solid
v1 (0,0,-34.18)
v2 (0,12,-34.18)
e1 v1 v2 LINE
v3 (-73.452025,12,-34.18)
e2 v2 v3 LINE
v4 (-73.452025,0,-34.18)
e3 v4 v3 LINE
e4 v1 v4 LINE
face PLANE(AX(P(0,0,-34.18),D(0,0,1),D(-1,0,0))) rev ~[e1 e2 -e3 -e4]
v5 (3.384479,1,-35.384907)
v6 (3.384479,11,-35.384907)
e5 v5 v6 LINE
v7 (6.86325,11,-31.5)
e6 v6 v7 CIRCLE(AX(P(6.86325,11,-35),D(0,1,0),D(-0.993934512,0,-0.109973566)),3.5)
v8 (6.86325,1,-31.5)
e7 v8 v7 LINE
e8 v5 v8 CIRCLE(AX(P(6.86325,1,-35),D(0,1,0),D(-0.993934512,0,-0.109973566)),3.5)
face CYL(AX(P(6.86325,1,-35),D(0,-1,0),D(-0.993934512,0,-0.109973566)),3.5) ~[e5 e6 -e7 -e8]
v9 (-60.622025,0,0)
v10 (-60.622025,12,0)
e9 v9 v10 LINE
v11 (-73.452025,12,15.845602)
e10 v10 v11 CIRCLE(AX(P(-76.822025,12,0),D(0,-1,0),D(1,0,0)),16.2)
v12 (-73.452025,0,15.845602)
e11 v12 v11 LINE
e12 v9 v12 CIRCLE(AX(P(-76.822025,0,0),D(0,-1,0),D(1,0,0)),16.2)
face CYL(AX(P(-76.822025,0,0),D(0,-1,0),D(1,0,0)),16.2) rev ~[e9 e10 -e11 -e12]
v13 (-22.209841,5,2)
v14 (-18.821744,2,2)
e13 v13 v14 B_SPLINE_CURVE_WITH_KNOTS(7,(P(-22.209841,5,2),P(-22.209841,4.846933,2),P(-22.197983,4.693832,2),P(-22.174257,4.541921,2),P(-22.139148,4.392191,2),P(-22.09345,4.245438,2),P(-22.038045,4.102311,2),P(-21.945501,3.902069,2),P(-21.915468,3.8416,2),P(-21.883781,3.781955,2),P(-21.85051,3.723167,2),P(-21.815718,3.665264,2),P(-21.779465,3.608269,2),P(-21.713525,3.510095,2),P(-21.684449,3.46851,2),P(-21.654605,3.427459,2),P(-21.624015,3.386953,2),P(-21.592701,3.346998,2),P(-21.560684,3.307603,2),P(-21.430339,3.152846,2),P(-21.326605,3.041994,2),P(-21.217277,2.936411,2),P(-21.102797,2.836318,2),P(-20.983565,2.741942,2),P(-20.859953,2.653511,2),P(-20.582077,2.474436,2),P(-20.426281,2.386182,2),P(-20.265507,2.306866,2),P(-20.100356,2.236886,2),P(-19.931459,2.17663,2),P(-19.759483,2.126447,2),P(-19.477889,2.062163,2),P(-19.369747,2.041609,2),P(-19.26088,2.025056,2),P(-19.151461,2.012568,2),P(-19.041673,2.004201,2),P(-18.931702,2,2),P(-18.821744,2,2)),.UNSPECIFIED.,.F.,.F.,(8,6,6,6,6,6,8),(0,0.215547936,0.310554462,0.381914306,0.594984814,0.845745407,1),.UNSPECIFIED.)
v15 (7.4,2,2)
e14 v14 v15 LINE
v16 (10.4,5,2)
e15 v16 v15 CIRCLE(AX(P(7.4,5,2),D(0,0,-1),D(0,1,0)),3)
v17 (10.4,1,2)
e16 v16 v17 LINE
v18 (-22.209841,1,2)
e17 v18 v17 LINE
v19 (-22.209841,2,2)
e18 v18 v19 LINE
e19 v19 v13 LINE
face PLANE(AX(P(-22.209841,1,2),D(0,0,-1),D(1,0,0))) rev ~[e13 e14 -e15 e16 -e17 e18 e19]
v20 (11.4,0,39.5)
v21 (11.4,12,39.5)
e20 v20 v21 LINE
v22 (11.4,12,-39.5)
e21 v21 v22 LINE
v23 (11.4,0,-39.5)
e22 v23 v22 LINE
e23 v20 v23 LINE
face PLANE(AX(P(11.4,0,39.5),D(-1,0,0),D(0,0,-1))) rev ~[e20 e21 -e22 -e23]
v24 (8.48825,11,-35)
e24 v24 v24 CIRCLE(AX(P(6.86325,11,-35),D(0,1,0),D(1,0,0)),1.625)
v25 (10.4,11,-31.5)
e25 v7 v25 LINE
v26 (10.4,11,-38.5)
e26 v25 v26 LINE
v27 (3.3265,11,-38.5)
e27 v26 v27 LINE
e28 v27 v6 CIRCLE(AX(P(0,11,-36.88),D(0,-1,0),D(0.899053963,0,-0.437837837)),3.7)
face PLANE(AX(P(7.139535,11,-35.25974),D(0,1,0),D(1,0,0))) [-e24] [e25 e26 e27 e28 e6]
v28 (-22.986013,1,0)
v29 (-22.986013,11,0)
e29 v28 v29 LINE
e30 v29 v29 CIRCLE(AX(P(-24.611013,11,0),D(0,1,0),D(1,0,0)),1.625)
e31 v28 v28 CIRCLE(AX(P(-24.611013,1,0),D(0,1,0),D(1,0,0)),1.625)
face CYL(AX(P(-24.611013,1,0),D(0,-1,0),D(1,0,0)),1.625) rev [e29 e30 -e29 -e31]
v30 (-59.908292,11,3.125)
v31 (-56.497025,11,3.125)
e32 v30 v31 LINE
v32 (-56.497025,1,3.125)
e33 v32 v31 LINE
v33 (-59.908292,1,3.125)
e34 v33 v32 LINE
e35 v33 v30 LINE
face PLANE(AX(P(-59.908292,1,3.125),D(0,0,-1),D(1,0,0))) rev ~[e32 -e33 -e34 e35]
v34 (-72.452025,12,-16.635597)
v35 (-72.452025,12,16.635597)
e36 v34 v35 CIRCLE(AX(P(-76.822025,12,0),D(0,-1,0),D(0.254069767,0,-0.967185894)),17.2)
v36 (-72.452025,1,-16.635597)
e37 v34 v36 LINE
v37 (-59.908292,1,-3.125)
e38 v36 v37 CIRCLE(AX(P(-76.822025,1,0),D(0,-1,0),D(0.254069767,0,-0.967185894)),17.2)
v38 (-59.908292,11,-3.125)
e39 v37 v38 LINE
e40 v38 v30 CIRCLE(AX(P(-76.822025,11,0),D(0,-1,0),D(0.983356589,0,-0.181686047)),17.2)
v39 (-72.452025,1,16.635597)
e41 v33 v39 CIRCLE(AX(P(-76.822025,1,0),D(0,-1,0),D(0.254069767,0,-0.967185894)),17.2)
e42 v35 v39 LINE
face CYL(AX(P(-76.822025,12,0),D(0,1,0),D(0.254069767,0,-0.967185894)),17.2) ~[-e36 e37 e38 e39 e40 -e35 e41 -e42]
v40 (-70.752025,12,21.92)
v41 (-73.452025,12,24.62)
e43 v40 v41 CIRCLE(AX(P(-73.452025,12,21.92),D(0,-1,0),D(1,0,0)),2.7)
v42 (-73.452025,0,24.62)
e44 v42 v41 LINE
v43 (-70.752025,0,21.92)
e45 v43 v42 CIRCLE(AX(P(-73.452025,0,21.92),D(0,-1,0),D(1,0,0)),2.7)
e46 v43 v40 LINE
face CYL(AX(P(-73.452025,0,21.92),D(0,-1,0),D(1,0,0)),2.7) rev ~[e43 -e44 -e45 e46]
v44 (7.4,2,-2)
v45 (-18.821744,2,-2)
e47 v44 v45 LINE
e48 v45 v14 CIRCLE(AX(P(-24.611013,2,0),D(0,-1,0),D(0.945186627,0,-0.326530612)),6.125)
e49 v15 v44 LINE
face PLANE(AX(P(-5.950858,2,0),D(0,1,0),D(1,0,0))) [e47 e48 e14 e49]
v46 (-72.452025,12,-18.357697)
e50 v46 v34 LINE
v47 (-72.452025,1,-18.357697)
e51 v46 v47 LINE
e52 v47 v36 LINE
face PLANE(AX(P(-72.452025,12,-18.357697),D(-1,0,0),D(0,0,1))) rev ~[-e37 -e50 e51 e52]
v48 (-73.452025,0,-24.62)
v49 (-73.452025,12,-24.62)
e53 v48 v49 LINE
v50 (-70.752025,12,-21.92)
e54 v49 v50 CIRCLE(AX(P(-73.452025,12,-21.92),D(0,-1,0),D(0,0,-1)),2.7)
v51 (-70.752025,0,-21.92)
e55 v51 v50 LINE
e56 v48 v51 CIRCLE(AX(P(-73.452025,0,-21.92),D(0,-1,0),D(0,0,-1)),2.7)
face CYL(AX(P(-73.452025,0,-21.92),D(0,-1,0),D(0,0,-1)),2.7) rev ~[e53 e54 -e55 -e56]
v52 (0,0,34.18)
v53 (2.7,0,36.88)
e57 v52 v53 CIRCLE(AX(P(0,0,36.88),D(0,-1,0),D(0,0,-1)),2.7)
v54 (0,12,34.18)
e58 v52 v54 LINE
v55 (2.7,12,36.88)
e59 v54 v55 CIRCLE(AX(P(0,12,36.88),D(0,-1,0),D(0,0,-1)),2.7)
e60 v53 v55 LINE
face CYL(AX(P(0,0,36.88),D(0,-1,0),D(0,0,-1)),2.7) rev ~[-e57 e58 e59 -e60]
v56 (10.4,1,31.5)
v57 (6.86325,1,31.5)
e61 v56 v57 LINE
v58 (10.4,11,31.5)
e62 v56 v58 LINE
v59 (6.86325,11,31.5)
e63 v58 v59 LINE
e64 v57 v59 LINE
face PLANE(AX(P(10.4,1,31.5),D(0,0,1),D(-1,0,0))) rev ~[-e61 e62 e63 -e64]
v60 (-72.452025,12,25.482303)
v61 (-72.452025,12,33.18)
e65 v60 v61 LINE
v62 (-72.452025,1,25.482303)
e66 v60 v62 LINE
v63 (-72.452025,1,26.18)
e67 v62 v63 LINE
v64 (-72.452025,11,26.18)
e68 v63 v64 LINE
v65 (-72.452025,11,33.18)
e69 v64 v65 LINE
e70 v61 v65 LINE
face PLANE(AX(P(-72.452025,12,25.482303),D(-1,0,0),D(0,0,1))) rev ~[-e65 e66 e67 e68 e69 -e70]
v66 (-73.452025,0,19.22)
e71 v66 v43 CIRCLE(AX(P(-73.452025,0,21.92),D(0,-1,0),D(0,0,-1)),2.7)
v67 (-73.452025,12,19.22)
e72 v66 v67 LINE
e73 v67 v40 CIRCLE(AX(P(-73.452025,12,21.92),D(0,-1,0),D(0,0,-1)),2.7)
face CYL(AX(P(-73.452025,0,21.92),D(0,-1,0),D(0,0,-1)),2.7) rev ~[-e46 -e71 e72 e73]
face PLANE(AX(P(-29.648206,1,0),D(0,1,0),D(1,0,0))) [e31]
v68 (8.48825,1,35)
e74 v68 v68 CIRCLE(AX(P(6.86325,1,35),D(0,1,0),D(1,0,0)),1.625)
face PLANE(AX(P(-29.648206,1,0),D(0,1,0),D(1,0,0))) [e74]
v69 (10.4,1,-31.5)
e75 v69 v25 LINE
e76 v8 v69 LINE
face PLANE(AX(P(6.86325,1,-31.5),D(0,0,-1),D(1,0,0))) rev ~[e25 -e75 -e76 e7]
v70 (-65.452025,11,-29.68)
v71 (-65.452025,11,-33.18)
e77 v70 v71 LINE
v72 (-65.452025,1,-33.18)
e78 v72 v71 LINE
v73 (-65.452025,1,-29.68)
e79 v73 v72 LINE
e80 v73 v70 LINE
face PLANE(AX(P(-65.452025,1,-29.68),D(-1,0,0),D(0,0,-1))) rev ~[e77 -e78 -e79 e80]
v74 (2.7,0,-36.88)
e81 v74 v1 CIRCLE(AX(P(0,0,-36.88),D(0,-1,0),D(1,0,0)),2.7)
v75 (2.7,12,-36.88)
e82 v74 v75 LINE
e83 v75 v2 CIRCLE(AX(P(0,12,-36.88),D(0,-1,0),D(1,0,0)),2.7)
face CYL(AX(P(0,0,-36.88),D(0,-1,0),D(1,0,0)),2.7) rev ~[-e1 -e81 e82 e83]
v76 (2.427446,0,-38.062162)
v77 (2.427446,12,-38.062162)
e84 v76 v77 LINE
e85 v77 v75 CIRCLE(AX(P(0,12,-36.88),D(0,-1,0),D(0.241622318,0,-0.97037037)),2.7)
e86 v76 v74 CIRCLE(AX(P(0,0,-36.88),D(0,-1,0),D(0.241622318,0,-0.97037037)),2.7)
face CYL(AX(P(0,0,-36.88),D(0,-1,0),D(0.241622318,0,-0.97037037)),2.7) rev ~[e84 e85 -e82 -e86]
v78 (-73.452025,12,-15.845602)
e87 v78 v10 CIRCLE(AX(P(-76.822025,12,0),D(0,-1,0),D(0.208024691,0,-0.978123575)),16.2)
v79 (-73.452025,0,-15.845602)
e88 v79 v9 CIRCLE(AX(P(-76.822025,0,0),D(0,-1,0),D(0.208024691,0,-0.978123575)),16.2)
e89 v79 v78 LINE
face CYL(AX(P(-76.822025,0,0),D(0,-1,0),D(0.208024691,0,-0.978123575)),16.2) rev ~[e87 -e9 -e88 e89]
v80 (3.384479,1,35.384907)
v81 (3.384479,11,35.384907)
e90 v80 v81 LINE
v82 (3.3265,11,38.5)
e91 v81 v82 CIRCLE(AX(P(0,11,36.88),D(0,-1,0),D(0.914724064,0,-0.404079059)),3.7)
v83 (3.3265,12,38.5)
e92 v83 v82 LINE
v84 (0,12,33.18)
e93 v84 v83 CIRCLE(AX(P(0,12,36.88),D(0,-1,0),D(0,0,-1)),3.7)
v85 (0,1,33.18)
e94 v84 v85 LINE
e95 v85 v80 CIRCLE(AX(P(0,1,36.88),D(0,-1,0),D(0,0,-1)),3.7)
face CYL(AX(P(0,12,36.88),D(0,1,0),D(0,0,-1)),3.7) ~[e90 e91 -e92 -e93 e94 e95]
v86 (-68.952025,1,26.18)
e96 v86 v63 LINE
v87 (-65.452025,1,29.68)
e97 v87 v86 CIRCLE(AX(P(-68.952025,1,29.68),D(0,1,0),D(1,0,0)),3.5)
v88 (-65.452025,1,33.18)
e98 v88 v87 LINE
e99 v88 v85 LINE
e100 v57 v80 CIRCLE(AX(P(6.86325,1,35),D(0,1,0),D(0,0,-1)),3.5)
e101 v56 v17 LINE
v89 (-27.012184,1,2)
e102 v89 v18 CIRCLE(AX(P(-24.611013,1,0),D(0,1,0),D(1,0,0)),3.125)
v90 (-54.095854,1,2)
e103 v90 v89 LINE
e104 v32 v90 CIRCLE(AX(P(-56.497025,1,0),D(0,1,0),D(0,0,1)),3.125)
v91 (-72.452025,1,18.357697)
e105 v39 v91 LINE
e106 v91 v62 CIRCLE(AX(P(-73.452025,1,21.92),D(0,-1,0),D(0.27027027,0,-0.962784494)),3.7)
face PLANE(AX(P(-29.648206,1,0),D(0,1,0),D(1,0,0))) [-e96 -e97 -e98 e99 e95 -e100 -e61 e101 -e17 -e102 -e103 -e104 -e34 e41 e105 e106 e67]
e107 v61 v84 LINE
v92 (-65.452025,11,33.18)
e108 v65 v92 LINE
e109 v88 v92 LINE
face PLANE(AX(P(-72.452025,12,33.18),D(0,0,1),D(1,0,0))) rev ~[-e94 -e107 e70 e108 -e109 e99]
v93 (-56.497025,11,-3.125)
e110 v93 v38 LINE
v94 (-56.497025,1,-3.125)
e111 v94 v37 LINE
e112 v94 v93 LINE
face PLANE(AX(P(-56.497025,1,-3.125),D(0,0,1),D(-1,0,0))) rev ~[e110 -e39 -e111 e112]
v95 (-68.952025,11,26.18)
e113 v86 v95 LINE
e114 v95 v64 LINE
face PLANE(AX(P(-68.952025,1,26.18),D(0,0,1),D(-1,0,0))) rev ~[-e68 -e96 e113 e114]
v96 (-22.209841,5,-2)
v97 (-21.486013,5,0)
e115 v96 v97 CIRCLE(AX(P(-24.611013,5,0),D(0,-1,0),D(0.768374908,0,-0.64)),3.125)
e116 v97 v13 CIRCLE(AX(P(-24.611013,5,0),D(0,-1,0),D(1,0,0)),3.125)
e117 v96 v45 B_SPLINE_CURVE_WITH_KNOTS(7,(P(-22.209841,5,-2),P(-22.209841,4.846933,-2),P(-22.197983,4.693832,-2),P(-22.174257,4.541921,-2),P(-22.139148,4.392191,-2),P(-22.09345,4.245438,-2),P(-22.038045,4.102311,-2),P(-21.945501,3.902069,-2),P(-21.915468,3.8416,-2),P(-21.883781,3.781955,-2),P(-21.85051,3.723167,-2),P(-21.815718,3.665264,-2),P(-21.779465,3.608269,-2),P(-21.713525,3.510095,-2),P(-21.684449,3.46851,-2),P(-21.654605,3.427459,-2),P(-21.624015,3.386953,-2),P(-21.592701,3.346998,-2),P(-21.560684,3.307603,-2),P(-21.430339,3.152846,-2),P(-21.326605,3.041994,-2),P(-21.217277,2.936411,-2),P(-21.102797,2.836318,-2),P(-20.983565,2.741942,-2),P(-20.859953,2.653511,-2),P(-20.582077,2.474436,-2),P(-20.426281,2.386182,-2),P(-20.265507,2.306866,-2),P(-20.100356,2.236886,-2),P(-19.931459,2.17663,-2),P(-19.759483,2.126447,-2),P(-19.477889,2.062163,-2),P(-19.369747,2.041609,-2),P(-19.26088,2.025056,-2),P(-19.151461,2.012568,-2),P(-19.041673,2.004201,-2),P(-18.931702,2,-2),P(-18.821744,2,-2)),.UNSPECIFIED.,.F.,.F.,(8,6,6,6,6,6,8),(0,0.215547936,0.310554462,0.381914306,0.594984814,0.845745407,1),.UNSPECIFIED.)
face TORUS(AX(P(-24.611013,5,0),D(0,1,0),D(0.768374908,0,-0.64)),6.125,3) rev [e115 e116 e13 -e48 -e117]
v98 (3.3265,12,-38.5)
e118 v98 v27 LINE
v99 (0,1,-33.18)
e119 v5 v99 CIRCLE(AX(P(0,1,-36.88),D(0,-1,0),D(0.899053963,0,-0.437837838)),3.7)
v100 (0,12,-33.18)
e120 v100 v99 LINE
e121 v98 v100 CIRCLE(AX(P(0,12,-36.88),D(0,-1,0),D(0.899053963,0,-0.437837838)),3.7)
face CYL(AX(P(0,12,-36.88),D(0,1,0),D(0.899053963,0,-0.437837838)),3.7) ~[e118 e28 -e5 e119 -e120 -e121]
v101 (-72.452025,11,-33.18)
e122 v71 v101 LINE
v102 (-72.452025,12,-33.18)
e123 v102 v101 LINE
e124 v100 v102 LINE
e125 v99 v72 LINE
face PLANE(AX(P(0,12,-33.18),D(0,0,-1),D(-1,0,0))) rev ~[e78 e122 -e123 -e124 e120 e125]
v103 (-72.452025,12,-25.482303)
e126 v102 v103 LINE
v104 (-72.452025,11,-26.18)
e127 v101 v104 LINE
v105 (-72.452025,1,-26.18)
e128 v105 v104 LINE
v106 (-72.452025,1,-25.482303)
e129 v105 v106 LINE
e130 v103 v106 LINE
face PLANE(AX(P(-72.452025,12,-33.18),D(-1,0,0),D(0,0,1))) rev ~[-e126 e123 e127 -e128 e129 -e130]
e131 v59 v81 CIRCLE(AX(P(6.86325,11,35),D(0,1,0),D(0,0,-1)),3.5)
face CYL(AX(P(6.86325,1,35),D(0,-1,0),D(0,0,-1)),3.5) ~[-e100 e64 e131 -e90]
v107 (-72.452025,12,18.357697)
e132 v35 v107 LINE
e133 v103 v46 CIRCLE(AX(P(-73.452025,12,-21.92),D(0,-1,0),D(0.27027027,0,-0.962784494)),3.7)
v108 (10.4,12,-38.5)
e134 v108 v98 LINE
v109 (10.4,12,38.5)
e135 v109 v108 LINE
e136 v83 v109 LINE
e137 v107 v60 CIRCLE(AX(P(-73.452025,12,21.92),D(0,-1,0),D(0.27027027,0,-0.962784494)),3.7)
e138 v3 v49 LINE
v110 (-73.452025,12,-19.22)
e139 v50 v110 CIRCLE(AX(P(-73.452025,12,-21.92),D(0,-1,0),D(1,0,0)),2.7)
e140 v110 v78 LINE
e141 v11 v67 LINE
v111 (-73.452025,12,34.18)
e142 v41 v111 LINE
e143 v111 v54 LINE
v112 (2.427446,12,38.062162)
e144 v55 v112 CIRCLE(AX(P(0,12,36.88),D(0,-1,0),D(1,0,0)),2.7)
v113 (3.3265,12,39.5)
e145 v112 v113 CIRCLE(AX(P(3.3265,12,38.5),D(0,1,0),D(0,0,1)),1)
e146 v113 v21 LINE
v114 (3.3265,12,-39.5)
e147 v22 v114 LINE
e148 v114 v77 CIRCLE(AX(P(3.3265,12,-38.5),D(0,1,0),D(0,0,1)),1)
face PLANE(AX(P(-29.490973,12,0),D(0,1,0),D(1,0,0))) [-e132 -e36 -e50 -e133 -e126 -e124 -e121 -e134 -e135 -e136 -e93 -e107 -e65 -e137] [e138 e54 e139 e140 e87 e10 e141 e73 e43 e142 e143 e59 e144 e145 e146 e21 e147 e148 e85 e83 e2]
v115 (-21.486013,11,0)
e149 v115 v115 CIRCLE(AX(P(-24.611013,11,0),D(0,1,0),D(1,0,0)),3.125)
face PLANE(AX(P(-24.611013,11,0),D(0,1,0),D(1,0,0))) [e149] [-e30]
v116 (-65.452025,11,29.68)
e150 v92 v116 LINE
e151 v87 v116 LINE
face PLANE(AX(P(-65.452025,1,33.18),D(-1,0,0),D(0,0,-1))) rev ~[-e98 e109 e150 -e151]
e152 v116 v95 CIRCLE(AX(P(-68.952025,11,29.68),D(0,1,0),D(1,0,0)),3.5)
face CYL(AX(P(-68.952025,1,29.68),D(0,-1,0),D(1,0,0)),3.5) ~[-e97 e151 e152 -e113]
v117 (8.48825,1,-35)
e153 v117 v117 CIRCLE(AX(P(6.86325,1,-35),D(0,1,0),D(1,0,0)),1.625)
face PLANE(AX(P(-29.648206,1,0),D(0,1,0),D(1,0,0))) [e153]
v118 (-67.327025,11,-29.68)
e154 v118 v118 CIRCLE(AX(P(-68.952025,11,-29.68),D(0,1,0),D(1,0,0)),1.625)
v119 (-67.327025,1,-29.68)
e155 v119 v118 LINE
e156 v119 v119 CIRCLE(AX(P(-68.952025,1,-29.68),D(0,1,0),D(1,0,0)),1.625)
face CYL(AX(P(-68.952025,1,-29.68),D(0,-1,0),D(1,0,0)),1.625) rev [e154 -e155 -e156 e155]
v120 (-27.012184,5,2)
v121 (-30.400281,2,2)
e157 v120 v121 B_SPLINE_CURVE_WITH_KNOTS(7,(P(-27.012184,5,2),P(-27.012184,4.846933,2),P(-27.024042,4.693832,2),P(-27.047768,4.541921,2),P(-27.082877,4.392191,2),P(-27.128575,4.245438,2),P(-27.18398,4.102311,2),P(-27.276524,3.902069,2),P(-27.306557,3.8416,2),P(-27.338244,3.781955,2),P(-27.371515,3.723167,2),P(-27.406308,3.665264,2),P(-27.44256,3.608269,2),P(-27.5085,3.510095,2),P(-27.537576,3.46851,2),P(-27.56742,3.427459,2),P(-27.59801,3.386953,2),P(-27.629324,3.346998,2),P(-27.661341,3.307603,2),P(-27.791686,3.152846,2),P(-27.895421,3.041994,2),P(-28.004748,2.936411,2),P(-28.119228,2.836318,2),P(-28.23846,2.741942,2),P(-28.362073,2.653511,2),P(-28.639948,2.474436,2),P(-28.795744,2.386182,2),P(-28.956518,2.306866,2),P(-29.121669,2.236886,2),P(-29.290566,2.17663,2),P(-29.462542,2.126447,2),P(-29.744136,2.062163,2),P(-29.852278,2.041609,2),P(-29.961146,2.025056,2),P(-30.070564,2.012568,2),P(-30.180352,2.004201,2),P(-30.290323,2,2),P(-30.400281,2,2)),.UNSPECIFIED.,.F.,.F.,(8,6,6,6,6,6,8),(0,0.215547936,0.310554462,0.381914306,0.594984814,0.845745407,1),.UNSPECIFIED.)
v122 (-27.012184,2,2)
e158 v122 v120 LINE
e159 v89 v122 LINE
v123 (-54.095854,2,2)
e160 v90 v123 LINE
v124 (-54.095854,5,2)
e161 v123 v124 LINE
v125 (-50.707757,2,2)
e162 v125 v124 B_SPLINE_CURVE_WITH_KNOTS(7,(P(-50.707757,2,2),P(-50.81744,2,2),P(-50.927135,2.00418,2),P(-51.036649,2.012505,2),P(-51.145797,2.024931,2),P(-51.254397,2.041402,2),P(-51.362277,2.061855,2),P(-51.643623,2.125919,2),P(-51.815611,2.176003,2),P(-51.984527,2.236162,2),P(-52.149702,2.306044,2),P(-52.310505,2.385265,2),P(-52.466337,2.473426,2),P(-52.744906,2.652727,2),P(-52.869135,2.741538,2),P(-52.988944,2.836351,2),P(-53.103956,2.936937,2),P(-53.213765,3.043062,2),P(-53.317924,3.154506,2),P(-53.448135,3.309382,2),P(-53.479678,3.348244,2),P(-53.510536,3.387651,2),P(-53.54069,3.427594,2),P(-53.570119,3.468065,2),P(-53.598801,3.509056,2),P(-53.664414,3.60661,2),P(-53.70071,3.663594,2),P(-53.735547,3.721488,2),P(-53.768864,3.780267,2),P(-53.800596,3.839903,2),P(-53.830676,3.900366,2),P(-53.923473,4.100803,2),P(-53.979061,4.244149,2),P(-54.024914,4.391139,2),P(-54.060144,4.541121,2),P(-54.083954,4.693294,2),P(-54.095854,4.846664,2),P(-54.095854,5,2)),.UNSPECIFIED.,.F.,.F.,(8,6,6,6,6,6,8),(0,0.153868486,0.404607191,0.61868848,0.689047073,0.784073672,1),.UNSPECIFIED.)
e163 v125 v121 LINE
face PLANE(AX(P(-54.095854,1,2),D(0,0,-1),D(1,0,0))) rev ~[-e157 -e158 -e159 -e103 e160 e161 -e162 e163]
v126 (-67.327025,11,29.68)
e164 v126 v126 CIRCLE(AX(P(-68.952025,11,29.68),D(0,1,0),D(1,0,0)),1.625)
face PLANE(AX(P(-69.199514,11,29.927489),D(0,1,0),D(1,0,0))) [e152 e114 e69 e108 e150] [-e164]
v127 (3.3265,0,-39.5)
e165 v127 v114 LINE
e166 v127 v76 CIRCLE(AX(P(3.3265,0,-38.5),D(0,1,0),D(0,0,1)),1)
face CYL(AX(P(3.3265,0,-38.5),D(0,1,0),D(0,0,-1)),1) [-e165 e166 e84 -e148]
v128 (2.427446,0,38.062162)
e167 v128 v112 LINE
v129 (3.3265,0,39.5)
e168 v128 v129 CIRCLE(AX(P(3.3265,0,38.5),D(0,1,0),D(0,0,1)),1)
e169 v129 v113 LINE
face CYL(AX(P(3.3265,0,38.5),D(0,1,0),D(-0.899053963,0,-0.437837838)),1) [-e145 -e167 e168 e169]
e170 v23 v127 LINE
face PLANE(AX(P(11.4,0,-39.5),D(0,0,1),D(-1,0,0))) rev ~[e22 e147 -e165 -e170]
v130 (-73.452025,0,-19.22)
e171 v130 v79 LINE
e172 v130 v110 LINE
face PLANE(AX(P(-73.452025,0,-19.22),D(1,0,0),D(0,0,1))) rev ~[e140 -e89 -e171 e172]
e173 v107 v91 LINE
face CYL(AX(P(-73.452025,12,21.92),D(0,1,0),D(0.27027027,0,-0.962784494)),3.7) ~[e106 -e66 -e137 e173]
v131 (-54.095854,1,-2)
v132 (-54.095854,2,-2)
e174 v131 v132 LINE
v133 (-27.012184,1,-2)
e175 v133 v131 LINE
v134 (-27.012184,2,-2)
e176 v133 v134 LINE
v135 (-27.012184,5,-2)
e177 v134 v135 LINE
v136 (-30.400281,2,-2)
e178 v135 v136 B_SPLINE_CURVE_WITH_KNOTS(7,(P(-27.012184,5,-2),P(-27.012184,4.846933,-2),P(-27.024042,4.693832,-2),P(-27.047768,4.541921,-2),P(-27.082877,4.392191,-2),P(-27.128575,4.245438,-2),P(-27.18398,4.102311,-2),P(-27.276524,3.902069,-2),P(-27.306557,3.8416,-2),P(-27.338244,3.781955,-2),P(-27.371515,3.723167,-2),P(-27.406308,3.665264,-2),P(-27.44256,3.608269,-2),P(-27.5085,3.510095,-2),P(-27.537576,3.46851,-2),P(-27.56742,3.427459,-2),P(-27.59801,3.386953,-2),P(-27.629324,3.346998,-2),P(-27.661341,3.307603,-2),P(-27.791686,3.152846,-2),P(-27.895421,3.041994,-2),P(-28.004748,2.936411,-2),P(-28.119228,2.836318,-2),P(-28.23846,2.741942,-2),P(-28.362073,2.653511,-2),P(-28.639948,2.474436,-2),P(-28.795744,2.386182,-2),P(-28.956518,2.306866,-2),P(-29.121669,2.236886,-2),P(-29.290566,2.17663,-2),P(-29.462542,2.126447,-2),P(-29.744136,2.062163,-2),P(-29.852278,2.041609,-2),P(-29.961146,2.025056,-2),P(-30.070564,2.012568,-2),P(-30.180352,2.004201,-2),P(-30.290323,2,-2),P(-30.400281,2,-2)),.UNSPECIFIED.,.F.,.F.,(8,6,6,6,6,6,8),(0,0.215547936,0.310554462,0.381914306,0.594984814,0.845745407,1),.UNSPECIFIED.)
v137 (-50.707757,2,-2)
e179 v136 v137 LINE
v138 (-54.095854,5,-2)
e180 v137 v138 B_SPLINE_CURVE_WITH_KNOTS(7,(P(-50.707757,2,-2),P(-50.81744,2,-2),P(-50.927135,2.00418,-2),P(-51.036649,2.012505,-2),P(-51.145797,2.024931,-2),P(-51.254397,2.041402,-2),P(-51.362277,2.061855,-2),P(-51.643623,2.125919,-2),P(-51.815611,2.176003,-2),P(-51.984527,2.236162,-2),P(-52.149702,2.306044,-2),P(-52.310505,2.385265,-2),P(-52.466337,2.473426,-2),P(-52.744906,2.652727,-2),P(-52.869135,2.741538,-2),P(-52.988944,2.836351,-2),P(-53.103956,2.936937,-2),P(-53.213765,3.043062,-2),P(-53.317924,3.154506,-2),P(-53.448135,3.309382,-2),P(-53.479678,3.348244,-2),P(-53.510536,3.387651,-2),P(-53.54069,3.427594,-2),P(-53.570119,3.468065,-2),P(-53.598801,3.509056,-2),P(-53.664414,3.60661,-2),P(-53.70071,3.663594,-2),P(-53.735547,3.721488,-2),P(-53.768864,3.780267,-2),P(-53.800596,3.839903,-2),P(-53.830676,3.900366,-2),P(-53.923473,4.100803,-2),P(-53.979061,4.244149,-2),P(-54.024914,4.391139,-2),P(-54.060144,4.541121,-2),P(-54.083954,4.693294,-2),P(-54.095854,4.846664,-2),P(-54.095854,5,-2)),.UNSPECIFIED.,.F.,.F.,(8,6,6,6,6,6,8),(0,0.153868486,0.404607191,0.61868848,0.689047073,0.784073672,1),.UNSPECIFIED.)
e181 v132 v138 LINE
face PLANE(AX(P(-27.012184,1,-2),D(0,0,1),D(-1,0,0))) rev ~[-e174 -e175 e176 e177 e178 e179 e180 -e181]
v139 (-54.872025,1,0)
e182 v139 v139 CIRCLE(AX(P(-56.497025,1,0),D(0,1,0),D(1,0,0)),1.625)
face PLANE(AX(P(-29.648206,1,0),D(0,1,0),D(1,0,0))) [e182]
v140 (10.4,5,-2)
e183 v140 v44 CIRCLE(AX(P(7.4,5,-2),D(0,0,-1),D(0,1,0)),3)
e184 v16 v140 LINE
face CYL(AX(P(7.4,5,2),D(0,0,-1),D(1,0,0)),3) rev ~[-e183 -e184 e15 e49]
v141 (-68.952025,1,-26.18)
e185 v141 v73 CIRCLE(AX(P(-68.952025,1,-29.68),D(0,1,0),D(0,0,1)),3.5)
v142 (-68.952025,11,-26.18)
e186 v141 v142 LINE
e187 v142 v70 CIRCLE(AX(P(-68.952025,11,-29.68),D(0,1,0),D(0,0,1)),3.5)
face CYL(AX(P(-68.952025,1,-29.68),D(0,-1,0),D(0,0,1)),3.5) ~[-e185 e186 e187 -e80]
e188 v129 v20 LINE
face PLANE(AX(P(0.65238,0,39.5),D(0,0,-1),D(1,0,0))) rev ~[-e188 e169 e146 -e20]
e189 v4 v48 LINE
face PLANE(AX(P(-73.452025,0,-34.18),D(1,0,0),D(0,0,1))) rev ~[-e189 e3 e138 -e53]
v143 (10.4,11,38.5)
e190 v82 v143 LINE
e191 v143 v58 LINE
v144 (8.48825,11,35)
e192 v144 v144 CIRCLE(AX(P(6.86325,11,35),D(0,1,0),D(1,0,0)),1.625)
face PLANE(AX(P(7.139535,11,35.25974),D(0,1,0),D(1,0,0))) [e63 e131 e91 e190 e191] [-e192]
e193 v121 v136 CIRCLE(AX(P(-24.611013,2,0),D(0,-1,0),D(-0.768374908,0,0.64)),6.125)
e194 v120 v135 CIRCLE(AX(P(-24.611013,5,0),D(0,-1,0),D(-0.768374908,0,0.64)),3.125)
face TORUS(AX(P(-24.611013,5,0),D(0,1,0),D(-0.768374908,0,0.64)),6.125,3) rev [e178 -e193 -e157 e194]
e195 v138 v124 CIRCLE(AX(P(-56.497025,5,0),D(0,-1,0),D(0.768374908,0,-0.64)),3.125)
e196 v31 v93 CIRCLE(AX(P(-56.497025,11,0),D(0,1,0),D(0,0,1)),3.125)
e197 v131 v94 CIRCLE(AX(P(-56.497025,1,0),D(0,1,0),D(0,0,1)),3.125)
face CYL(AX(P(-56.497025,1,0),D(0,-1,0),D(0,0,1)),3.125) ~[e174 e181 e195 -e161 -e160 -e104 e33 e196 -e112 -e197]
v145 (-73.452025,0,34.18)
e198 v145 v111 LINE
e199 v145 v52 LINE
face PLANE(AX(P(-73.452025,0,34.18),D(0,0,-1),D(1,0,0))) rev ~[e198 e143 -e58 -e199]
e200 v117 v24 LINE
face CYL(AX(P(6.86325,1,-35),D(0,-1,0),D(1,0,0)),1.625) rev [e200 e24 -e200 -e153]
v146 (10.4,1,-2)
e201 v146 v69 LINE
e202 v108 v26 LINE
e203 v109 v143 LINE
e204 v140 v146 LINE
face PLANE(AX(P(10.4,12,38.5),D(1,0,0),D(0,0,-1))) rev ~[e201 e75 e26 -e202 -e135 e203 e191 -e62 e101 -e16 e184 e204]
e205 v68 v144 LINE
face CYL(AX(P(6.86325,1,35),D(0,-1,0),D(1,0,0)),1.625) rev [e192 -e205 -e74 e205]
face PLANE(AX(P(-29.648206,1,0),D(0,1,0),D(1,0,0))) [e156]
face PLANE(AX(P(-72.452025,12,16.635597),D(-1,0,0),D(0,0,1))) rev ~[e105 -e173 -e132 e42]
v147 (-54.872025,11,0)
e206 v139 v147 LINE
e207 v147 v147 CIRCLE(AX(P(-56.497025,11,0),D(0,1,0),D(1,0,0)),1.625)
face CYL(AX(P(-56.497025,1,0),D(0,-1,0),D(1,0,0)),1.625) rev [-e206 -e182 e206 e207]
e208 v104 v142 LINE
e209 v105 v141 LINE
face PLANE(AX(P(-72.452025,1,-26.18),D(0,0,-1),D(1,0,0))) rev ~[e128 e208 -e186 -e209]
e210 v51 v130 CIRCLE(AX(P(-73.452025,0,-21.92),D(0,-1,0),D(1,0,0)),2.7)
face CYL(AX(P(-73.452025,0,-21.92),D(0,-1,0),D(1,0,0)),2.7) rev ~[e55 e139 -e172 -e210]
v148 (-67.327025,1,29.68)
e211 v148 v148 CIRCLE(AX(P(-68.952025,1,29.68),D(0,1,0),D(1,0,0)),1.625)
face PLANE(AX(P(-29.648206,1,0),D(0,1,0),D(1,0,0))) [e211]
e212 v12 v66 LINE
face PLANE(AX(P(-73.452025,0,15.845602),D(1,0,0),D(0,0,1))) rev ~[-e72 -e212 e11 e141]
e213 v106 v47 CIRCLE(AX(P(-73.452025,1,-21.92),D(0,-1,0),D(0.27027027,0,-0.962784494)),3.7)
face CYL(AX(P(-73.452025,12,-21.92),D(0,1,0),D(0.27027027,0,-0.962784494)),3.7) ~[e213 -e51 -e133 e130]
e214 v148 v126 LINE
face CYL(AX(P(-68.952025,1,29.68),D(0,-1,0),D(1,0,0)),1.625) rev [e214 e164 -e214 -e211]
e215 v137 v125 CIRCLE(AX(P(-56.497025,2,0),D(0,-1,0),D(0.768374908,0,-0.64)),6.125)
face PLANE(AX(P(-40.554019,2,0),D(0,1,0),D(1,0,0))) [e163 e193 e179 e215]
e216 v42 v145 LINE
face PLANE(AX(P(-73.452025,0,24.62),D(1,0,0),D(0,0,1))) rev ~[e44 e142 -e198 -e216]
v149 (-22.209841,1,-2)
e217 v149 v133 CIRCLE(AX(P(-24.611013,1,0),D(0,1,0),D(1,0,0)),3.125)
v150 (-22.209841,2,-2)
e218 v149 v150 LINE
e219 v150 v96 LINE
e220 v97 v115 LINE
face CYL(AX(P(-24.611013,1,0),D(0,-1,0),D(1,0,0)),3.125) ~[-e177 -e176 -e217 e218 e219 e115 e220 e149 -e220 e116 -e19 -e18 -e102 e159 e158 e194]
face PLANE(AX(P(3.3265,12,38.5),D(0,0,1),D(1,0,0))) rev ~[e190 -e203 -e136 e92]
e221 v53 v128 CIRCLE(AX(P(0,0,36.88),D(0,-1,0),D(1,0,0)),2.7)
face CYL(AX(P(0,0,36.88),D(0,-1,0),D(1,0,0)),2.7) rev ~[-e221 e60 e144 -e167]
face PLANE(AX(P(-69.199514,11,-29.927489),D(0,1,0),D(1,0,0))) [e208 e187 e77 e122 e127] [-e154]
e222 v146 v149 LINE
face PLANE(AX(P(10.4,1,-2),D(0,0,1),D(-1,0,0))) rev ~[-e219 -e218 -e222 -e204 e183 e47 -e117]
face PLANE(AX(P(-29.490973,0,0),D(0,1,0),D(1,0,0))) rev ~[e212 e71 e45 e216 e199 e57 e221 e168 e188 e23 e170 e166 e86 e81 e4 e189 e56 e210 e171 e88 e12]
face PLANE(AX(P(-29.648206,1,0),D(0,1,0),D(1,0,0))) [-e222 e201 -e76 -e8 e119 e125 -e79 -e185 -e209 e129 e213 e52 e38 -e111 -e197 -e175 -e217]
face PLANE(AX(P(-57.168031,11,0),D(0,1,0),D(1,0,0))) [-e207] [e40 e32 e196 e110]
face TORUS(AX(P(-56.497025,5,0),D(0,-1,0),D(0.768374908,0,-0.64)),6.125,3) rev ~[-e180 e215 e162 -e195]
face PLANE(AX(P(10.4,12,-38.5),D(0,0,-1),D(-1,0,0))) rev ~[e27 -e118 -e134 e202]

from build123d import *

# Parameters (mm, degrees)
BASE_SHAPE_DEPTH           = 12
FILLETS_R                  = 1
INSIDE_CUT_DEPTH           = 11
SKETCH3_R                  = 1.625
SKETCH3_R_2                = 3.125
MOUNTING_POSTS_DEPTH       = 10
CENTER_REINFORCEMENT_DEPTH = 1
REINFORCEMENT_FILLETS_R    = 3


with BuildPart() as part:
    # Sketch1 → Base shape (new body)
    with BuildSketch(Plane(origin=(0, 0, 0), x_dir=(1, 0, 0), z_dir=(0, 1, 0))):
        with BuildLine():
            ThreePointArc((2.7, 36.88), (1.909188309, 34.970811691), (0, 34.18))
            Line((0, 34.18), (-73.452025159, 34.18))
            Line((-73.452025159, 34.18), (-73.452025159, 24.62))
            ThreePointArc((-73.452025159, 24.62), (-71.54283685, 23.829188309), (-70.752025159, 21.92))
            ThreePointArc((-70.752025159, 21.92), (-71.54283685, 20.010811691), (-73.452025159, 19.22))
            Line((-73.452025159, 19.22), (-73.452025159, 15.845601913))
            ThreePointArc((-73.452025159, 15.845601913), (-64.231671709, 10.194263093), (-60.622025159, 0))
            ThreePointArc((-60.622025159, 0), (-64.231671709, -10.194263093), (-73.452025159, -15.845601913))
            Line((-73.452025159, -15.845601913), (-73.452025159, -19.22))
            ThreePointArc((-73.452025159, -19.22), (-71.54283685, -20.010811691), (-70.752025159, -21.92))
            ThreePointArc((-70.752025159, -21.92), (-71.54283685, -23.829188309), (-73.452025159, -24.62))
            Line((-73.452025159, -24.62), (-73.452025159, -34.18))
            Line((-73.452025159, -34.18), (0, -34.18))
            ThreePointArc((0, -34.18), (1.909188309, -34.970811691), (2.7, -36.88))
            ThreePointArc((2.7, -36.88), (2.127372404, -38.542614403), (0.652380257, -39.5))
            Line((0.652380257, -39.5), (11.4, -39.5))
            Line((11.4, -39.5), (11.4, 39.5))
            Line((11.4, 39.5), (0.652380257, 39.5))
            ThreePointArc((0.652380257, 39.5), (2.127372404, 38.542614403), (2.7, 36.88))
        make_face()
    extrude(amount=BASE_SHAPE_DEPTH)

    # Fillets
    fillets_edges = [part.edges().sort_by_distance(p)[0] for p in [
        (0.652380257, 6, -39.5),
        (0.652380257, 6, 39.5),
    ]]
    fillet(fillets_edges, radius=FILLETS_R)

    # Sketch2 → Inside cut (cut)
    with BuildSketch(Plane(origin=(0, 12, 0), x_dir=(1, 0, 0), z_dir=(0, 1, 0))):
        with BuildLine():
            Line((10.4, 38.5), (3.326499662, 38.5))
            ThreePointArc((3.326499662, 38.5), (3.1371962, 34.918368026), (0, 33.18))
            Line((0, 33.18), (-72.452025159, 33.18))
            Line((-72.452025159, 33.18), (-72.452025159, 25.482302626))
            ThreePointArc((-72.452025159, 25.482302626), (-69.752025159, 21.92), (-72.452025159, 18.357697374))
            Line((-72.452025159, 18.357697374), (-72.452025159, 16.635597374))
            ThreePointArc((-72.452025159, 16.635597374), (-59.622025159, 0), (-72.452025159, -16.635597374))
            Line((-72.452025159, -16.635597374), (-72.452025159, -18.357697374))
            ThreePointArc((-72.452025159, -18.357697374), (-69.752025159, -21.92), (-72.452025159, -25.482302626))
            Line((-72.452025159, -25.482302626), (-72.452025159, -33.18))
            Line((-72.452025159, -33.18), (0, -33.18))
            ThreePointArc((0, -33.18), (3.1371962, -34.918368026), (3.326499662, -38.5))
            Line((3.326499662, -38.5), (10.4, -38.5))
            Line((10.4, -38.5), (10.4, 38.5))
        make_face()
    extrude(amount=-INSIDE_CUT_DEPTH, mode=Mode.SUBTRACT)

    # Sketch3 → Mounting posts (add)
    with BuildSketch(Plane(origin=(0, 1, 0), x_dir=(1, 0, 0), z_dir=(0, 1, 0))):
        with BuildLine():
            Line((-72.452025159, 26.18), (-68.952025159, 26.18))
            ThreePointArc((-68.952025159, 26.18), (-66.477151425, 27.205126266), (-65.452025159, 29.68))
            Line((-65.452025159, 29.68), (-65.452025159, 33.18))
            Line((-65.452025159, 33.18), (-72.452025159, 33.18))
            Line((-72.452025159, 33.18), (-72.452025159, 26.18))
        make_face()
        with Locations((-68.952025159, 29.68)):
            Circle(SKETCH3_R, mode=Mode.SUBTRACT)
        with BuildLine():
            ThreePointArc((3.384479038, 35.38490748), (4.255839604, 32.665174116), (6.863249831, 31.5))
            Line((6.863249831, 31.5), (10.4, 31.5))
            Line((10.4, 31.5), (10.4, 38.5))
            Line((10.4, 38.5), (3.326499662, 38.5))
            ThreePointArc((3.326499662, 38.5), (3.699359286, 36.948853988), (3.384479038, 35.38490748))
        make_face()
        with Locations((6.863249831, 35)):
            Circle(SKETCH3_R, mode=Mode.SUBTRACT)
        with BuildLine():
            Line((-56.497025159, 3.125), (-59.908291834, 3.125))
            ThreePointArc((-59.908291834, 3.125), (-59.622025159, 0), (-59.908291834, -3.125))
            Line((-59.908291834, -3.125), (-56.497025159, -3.125))
            ThreePointArc((-56.497025159, -3.125), (-53.372025159, 0), (-56.497025159, 3.125))
        make_face()
        with Locations((-56.497025159, 0)):
            Circle(SKETCH3_R, mode=Mode.SUBTRACT)
        with BuildLine():
            Line((10.4, -38.5), (10.4, -31.5))
            Line((10.4, -31.5), (6.863249831, -31.5))
            ThreePointArc((6.863249831, -31.5), (4.255839604, -32.665174116), (3.384479038, -35.38490748))
            ThreePointArc((3.384479038, -35.38490748), (3.699359286, -36.948853988), (3.326499662, -38.5))
            Line((3.326499662, -38.5), (10.4, -38.5))
        make_face()
        with Locations((6.863249831, -35)):
            Circle(SKETCH3_R, mode=Mode.SUBTRACT)
        with BuildLine():
            Line((-68.952025159, -26.18), (-72.452025159, -26.18))
            Line((-72.452025159, -26.18), (-72.452025159, -33.18))
            Line((-72.452025159, -33.18), (-65.452025159, -33.18))
            Line((-65.452025159, -33.18), (-65.452025159, -29.68))
            ThreePointArc((-65.452025159, -29.68), (-66.477151425, -27.205126266), (-68.952025159, -26.18))
        make_face()
        with Locations((-68.952025159, -29.68)):
            Circle(SKETCH3_R, mode=Mode.SUBTRACT)
        with Locations((-24.61101258, 0)):
            Circle(SKETCH3_R_2)
        with Locations((-24.61101258, 0)):
            Circle(SKETCH3_R, mode=Mode.SUBTRACT)
    extrude(amount=MOUNTING_POSTS_DEPTH)

    # Sketch4 → Center reinforcement (add)
    with BuildSketch(Plane(origin=(0, 1, 0), x_dir=(1, 0, 0), z_dir=(0, 1, 0))):
        with BuildLine():
            Line((-27.012184169, 2), (-54.09585357, 2))
            ThreePointArc((-54.09585357, 2), (-53.372025159, 0), (-54.09585357, -2))
            Line((-54.09585357, -2), (-27.012184169, -2))
            ThreePointArc((-27.012184169, -2), (-27.73601258, 0), (-27.012184169, 2))
        make_face()
        with BuildLine():
            Line((10.4, 2), (-22.209840991, 2))
            ThreePointArc((-22.209840991, 2), (-21.672536255, 1.063476324), (-21.48601258, 0))
            ThreePointArc((-21.48601258, 0), (-21.672536255, -1.063476324), (-22.209840991, -2))
            Line((-22.209840991, -2), (10.4, -2))
            Line((10.4, -2), (10.4, 2))
        make_face()
    extrude(amount=CENTER_REINFORCEMENT_DEPTH)

    # Reinforcement fillets
    reinforcement_fillets_edges = [part.edges().sort_by_distance(p)[0] for p in [
        (-53.372025159, 2, 0),
        (-27.73601258, 2, 0),
        (-21.672536255, 2, 1.063476324),
        (10.4, 2, 0),
    ]]
    fillet(reinforcement_fillets_edges, radius=REINFORCEMENT_FILLETS_R)


solid = part.part
